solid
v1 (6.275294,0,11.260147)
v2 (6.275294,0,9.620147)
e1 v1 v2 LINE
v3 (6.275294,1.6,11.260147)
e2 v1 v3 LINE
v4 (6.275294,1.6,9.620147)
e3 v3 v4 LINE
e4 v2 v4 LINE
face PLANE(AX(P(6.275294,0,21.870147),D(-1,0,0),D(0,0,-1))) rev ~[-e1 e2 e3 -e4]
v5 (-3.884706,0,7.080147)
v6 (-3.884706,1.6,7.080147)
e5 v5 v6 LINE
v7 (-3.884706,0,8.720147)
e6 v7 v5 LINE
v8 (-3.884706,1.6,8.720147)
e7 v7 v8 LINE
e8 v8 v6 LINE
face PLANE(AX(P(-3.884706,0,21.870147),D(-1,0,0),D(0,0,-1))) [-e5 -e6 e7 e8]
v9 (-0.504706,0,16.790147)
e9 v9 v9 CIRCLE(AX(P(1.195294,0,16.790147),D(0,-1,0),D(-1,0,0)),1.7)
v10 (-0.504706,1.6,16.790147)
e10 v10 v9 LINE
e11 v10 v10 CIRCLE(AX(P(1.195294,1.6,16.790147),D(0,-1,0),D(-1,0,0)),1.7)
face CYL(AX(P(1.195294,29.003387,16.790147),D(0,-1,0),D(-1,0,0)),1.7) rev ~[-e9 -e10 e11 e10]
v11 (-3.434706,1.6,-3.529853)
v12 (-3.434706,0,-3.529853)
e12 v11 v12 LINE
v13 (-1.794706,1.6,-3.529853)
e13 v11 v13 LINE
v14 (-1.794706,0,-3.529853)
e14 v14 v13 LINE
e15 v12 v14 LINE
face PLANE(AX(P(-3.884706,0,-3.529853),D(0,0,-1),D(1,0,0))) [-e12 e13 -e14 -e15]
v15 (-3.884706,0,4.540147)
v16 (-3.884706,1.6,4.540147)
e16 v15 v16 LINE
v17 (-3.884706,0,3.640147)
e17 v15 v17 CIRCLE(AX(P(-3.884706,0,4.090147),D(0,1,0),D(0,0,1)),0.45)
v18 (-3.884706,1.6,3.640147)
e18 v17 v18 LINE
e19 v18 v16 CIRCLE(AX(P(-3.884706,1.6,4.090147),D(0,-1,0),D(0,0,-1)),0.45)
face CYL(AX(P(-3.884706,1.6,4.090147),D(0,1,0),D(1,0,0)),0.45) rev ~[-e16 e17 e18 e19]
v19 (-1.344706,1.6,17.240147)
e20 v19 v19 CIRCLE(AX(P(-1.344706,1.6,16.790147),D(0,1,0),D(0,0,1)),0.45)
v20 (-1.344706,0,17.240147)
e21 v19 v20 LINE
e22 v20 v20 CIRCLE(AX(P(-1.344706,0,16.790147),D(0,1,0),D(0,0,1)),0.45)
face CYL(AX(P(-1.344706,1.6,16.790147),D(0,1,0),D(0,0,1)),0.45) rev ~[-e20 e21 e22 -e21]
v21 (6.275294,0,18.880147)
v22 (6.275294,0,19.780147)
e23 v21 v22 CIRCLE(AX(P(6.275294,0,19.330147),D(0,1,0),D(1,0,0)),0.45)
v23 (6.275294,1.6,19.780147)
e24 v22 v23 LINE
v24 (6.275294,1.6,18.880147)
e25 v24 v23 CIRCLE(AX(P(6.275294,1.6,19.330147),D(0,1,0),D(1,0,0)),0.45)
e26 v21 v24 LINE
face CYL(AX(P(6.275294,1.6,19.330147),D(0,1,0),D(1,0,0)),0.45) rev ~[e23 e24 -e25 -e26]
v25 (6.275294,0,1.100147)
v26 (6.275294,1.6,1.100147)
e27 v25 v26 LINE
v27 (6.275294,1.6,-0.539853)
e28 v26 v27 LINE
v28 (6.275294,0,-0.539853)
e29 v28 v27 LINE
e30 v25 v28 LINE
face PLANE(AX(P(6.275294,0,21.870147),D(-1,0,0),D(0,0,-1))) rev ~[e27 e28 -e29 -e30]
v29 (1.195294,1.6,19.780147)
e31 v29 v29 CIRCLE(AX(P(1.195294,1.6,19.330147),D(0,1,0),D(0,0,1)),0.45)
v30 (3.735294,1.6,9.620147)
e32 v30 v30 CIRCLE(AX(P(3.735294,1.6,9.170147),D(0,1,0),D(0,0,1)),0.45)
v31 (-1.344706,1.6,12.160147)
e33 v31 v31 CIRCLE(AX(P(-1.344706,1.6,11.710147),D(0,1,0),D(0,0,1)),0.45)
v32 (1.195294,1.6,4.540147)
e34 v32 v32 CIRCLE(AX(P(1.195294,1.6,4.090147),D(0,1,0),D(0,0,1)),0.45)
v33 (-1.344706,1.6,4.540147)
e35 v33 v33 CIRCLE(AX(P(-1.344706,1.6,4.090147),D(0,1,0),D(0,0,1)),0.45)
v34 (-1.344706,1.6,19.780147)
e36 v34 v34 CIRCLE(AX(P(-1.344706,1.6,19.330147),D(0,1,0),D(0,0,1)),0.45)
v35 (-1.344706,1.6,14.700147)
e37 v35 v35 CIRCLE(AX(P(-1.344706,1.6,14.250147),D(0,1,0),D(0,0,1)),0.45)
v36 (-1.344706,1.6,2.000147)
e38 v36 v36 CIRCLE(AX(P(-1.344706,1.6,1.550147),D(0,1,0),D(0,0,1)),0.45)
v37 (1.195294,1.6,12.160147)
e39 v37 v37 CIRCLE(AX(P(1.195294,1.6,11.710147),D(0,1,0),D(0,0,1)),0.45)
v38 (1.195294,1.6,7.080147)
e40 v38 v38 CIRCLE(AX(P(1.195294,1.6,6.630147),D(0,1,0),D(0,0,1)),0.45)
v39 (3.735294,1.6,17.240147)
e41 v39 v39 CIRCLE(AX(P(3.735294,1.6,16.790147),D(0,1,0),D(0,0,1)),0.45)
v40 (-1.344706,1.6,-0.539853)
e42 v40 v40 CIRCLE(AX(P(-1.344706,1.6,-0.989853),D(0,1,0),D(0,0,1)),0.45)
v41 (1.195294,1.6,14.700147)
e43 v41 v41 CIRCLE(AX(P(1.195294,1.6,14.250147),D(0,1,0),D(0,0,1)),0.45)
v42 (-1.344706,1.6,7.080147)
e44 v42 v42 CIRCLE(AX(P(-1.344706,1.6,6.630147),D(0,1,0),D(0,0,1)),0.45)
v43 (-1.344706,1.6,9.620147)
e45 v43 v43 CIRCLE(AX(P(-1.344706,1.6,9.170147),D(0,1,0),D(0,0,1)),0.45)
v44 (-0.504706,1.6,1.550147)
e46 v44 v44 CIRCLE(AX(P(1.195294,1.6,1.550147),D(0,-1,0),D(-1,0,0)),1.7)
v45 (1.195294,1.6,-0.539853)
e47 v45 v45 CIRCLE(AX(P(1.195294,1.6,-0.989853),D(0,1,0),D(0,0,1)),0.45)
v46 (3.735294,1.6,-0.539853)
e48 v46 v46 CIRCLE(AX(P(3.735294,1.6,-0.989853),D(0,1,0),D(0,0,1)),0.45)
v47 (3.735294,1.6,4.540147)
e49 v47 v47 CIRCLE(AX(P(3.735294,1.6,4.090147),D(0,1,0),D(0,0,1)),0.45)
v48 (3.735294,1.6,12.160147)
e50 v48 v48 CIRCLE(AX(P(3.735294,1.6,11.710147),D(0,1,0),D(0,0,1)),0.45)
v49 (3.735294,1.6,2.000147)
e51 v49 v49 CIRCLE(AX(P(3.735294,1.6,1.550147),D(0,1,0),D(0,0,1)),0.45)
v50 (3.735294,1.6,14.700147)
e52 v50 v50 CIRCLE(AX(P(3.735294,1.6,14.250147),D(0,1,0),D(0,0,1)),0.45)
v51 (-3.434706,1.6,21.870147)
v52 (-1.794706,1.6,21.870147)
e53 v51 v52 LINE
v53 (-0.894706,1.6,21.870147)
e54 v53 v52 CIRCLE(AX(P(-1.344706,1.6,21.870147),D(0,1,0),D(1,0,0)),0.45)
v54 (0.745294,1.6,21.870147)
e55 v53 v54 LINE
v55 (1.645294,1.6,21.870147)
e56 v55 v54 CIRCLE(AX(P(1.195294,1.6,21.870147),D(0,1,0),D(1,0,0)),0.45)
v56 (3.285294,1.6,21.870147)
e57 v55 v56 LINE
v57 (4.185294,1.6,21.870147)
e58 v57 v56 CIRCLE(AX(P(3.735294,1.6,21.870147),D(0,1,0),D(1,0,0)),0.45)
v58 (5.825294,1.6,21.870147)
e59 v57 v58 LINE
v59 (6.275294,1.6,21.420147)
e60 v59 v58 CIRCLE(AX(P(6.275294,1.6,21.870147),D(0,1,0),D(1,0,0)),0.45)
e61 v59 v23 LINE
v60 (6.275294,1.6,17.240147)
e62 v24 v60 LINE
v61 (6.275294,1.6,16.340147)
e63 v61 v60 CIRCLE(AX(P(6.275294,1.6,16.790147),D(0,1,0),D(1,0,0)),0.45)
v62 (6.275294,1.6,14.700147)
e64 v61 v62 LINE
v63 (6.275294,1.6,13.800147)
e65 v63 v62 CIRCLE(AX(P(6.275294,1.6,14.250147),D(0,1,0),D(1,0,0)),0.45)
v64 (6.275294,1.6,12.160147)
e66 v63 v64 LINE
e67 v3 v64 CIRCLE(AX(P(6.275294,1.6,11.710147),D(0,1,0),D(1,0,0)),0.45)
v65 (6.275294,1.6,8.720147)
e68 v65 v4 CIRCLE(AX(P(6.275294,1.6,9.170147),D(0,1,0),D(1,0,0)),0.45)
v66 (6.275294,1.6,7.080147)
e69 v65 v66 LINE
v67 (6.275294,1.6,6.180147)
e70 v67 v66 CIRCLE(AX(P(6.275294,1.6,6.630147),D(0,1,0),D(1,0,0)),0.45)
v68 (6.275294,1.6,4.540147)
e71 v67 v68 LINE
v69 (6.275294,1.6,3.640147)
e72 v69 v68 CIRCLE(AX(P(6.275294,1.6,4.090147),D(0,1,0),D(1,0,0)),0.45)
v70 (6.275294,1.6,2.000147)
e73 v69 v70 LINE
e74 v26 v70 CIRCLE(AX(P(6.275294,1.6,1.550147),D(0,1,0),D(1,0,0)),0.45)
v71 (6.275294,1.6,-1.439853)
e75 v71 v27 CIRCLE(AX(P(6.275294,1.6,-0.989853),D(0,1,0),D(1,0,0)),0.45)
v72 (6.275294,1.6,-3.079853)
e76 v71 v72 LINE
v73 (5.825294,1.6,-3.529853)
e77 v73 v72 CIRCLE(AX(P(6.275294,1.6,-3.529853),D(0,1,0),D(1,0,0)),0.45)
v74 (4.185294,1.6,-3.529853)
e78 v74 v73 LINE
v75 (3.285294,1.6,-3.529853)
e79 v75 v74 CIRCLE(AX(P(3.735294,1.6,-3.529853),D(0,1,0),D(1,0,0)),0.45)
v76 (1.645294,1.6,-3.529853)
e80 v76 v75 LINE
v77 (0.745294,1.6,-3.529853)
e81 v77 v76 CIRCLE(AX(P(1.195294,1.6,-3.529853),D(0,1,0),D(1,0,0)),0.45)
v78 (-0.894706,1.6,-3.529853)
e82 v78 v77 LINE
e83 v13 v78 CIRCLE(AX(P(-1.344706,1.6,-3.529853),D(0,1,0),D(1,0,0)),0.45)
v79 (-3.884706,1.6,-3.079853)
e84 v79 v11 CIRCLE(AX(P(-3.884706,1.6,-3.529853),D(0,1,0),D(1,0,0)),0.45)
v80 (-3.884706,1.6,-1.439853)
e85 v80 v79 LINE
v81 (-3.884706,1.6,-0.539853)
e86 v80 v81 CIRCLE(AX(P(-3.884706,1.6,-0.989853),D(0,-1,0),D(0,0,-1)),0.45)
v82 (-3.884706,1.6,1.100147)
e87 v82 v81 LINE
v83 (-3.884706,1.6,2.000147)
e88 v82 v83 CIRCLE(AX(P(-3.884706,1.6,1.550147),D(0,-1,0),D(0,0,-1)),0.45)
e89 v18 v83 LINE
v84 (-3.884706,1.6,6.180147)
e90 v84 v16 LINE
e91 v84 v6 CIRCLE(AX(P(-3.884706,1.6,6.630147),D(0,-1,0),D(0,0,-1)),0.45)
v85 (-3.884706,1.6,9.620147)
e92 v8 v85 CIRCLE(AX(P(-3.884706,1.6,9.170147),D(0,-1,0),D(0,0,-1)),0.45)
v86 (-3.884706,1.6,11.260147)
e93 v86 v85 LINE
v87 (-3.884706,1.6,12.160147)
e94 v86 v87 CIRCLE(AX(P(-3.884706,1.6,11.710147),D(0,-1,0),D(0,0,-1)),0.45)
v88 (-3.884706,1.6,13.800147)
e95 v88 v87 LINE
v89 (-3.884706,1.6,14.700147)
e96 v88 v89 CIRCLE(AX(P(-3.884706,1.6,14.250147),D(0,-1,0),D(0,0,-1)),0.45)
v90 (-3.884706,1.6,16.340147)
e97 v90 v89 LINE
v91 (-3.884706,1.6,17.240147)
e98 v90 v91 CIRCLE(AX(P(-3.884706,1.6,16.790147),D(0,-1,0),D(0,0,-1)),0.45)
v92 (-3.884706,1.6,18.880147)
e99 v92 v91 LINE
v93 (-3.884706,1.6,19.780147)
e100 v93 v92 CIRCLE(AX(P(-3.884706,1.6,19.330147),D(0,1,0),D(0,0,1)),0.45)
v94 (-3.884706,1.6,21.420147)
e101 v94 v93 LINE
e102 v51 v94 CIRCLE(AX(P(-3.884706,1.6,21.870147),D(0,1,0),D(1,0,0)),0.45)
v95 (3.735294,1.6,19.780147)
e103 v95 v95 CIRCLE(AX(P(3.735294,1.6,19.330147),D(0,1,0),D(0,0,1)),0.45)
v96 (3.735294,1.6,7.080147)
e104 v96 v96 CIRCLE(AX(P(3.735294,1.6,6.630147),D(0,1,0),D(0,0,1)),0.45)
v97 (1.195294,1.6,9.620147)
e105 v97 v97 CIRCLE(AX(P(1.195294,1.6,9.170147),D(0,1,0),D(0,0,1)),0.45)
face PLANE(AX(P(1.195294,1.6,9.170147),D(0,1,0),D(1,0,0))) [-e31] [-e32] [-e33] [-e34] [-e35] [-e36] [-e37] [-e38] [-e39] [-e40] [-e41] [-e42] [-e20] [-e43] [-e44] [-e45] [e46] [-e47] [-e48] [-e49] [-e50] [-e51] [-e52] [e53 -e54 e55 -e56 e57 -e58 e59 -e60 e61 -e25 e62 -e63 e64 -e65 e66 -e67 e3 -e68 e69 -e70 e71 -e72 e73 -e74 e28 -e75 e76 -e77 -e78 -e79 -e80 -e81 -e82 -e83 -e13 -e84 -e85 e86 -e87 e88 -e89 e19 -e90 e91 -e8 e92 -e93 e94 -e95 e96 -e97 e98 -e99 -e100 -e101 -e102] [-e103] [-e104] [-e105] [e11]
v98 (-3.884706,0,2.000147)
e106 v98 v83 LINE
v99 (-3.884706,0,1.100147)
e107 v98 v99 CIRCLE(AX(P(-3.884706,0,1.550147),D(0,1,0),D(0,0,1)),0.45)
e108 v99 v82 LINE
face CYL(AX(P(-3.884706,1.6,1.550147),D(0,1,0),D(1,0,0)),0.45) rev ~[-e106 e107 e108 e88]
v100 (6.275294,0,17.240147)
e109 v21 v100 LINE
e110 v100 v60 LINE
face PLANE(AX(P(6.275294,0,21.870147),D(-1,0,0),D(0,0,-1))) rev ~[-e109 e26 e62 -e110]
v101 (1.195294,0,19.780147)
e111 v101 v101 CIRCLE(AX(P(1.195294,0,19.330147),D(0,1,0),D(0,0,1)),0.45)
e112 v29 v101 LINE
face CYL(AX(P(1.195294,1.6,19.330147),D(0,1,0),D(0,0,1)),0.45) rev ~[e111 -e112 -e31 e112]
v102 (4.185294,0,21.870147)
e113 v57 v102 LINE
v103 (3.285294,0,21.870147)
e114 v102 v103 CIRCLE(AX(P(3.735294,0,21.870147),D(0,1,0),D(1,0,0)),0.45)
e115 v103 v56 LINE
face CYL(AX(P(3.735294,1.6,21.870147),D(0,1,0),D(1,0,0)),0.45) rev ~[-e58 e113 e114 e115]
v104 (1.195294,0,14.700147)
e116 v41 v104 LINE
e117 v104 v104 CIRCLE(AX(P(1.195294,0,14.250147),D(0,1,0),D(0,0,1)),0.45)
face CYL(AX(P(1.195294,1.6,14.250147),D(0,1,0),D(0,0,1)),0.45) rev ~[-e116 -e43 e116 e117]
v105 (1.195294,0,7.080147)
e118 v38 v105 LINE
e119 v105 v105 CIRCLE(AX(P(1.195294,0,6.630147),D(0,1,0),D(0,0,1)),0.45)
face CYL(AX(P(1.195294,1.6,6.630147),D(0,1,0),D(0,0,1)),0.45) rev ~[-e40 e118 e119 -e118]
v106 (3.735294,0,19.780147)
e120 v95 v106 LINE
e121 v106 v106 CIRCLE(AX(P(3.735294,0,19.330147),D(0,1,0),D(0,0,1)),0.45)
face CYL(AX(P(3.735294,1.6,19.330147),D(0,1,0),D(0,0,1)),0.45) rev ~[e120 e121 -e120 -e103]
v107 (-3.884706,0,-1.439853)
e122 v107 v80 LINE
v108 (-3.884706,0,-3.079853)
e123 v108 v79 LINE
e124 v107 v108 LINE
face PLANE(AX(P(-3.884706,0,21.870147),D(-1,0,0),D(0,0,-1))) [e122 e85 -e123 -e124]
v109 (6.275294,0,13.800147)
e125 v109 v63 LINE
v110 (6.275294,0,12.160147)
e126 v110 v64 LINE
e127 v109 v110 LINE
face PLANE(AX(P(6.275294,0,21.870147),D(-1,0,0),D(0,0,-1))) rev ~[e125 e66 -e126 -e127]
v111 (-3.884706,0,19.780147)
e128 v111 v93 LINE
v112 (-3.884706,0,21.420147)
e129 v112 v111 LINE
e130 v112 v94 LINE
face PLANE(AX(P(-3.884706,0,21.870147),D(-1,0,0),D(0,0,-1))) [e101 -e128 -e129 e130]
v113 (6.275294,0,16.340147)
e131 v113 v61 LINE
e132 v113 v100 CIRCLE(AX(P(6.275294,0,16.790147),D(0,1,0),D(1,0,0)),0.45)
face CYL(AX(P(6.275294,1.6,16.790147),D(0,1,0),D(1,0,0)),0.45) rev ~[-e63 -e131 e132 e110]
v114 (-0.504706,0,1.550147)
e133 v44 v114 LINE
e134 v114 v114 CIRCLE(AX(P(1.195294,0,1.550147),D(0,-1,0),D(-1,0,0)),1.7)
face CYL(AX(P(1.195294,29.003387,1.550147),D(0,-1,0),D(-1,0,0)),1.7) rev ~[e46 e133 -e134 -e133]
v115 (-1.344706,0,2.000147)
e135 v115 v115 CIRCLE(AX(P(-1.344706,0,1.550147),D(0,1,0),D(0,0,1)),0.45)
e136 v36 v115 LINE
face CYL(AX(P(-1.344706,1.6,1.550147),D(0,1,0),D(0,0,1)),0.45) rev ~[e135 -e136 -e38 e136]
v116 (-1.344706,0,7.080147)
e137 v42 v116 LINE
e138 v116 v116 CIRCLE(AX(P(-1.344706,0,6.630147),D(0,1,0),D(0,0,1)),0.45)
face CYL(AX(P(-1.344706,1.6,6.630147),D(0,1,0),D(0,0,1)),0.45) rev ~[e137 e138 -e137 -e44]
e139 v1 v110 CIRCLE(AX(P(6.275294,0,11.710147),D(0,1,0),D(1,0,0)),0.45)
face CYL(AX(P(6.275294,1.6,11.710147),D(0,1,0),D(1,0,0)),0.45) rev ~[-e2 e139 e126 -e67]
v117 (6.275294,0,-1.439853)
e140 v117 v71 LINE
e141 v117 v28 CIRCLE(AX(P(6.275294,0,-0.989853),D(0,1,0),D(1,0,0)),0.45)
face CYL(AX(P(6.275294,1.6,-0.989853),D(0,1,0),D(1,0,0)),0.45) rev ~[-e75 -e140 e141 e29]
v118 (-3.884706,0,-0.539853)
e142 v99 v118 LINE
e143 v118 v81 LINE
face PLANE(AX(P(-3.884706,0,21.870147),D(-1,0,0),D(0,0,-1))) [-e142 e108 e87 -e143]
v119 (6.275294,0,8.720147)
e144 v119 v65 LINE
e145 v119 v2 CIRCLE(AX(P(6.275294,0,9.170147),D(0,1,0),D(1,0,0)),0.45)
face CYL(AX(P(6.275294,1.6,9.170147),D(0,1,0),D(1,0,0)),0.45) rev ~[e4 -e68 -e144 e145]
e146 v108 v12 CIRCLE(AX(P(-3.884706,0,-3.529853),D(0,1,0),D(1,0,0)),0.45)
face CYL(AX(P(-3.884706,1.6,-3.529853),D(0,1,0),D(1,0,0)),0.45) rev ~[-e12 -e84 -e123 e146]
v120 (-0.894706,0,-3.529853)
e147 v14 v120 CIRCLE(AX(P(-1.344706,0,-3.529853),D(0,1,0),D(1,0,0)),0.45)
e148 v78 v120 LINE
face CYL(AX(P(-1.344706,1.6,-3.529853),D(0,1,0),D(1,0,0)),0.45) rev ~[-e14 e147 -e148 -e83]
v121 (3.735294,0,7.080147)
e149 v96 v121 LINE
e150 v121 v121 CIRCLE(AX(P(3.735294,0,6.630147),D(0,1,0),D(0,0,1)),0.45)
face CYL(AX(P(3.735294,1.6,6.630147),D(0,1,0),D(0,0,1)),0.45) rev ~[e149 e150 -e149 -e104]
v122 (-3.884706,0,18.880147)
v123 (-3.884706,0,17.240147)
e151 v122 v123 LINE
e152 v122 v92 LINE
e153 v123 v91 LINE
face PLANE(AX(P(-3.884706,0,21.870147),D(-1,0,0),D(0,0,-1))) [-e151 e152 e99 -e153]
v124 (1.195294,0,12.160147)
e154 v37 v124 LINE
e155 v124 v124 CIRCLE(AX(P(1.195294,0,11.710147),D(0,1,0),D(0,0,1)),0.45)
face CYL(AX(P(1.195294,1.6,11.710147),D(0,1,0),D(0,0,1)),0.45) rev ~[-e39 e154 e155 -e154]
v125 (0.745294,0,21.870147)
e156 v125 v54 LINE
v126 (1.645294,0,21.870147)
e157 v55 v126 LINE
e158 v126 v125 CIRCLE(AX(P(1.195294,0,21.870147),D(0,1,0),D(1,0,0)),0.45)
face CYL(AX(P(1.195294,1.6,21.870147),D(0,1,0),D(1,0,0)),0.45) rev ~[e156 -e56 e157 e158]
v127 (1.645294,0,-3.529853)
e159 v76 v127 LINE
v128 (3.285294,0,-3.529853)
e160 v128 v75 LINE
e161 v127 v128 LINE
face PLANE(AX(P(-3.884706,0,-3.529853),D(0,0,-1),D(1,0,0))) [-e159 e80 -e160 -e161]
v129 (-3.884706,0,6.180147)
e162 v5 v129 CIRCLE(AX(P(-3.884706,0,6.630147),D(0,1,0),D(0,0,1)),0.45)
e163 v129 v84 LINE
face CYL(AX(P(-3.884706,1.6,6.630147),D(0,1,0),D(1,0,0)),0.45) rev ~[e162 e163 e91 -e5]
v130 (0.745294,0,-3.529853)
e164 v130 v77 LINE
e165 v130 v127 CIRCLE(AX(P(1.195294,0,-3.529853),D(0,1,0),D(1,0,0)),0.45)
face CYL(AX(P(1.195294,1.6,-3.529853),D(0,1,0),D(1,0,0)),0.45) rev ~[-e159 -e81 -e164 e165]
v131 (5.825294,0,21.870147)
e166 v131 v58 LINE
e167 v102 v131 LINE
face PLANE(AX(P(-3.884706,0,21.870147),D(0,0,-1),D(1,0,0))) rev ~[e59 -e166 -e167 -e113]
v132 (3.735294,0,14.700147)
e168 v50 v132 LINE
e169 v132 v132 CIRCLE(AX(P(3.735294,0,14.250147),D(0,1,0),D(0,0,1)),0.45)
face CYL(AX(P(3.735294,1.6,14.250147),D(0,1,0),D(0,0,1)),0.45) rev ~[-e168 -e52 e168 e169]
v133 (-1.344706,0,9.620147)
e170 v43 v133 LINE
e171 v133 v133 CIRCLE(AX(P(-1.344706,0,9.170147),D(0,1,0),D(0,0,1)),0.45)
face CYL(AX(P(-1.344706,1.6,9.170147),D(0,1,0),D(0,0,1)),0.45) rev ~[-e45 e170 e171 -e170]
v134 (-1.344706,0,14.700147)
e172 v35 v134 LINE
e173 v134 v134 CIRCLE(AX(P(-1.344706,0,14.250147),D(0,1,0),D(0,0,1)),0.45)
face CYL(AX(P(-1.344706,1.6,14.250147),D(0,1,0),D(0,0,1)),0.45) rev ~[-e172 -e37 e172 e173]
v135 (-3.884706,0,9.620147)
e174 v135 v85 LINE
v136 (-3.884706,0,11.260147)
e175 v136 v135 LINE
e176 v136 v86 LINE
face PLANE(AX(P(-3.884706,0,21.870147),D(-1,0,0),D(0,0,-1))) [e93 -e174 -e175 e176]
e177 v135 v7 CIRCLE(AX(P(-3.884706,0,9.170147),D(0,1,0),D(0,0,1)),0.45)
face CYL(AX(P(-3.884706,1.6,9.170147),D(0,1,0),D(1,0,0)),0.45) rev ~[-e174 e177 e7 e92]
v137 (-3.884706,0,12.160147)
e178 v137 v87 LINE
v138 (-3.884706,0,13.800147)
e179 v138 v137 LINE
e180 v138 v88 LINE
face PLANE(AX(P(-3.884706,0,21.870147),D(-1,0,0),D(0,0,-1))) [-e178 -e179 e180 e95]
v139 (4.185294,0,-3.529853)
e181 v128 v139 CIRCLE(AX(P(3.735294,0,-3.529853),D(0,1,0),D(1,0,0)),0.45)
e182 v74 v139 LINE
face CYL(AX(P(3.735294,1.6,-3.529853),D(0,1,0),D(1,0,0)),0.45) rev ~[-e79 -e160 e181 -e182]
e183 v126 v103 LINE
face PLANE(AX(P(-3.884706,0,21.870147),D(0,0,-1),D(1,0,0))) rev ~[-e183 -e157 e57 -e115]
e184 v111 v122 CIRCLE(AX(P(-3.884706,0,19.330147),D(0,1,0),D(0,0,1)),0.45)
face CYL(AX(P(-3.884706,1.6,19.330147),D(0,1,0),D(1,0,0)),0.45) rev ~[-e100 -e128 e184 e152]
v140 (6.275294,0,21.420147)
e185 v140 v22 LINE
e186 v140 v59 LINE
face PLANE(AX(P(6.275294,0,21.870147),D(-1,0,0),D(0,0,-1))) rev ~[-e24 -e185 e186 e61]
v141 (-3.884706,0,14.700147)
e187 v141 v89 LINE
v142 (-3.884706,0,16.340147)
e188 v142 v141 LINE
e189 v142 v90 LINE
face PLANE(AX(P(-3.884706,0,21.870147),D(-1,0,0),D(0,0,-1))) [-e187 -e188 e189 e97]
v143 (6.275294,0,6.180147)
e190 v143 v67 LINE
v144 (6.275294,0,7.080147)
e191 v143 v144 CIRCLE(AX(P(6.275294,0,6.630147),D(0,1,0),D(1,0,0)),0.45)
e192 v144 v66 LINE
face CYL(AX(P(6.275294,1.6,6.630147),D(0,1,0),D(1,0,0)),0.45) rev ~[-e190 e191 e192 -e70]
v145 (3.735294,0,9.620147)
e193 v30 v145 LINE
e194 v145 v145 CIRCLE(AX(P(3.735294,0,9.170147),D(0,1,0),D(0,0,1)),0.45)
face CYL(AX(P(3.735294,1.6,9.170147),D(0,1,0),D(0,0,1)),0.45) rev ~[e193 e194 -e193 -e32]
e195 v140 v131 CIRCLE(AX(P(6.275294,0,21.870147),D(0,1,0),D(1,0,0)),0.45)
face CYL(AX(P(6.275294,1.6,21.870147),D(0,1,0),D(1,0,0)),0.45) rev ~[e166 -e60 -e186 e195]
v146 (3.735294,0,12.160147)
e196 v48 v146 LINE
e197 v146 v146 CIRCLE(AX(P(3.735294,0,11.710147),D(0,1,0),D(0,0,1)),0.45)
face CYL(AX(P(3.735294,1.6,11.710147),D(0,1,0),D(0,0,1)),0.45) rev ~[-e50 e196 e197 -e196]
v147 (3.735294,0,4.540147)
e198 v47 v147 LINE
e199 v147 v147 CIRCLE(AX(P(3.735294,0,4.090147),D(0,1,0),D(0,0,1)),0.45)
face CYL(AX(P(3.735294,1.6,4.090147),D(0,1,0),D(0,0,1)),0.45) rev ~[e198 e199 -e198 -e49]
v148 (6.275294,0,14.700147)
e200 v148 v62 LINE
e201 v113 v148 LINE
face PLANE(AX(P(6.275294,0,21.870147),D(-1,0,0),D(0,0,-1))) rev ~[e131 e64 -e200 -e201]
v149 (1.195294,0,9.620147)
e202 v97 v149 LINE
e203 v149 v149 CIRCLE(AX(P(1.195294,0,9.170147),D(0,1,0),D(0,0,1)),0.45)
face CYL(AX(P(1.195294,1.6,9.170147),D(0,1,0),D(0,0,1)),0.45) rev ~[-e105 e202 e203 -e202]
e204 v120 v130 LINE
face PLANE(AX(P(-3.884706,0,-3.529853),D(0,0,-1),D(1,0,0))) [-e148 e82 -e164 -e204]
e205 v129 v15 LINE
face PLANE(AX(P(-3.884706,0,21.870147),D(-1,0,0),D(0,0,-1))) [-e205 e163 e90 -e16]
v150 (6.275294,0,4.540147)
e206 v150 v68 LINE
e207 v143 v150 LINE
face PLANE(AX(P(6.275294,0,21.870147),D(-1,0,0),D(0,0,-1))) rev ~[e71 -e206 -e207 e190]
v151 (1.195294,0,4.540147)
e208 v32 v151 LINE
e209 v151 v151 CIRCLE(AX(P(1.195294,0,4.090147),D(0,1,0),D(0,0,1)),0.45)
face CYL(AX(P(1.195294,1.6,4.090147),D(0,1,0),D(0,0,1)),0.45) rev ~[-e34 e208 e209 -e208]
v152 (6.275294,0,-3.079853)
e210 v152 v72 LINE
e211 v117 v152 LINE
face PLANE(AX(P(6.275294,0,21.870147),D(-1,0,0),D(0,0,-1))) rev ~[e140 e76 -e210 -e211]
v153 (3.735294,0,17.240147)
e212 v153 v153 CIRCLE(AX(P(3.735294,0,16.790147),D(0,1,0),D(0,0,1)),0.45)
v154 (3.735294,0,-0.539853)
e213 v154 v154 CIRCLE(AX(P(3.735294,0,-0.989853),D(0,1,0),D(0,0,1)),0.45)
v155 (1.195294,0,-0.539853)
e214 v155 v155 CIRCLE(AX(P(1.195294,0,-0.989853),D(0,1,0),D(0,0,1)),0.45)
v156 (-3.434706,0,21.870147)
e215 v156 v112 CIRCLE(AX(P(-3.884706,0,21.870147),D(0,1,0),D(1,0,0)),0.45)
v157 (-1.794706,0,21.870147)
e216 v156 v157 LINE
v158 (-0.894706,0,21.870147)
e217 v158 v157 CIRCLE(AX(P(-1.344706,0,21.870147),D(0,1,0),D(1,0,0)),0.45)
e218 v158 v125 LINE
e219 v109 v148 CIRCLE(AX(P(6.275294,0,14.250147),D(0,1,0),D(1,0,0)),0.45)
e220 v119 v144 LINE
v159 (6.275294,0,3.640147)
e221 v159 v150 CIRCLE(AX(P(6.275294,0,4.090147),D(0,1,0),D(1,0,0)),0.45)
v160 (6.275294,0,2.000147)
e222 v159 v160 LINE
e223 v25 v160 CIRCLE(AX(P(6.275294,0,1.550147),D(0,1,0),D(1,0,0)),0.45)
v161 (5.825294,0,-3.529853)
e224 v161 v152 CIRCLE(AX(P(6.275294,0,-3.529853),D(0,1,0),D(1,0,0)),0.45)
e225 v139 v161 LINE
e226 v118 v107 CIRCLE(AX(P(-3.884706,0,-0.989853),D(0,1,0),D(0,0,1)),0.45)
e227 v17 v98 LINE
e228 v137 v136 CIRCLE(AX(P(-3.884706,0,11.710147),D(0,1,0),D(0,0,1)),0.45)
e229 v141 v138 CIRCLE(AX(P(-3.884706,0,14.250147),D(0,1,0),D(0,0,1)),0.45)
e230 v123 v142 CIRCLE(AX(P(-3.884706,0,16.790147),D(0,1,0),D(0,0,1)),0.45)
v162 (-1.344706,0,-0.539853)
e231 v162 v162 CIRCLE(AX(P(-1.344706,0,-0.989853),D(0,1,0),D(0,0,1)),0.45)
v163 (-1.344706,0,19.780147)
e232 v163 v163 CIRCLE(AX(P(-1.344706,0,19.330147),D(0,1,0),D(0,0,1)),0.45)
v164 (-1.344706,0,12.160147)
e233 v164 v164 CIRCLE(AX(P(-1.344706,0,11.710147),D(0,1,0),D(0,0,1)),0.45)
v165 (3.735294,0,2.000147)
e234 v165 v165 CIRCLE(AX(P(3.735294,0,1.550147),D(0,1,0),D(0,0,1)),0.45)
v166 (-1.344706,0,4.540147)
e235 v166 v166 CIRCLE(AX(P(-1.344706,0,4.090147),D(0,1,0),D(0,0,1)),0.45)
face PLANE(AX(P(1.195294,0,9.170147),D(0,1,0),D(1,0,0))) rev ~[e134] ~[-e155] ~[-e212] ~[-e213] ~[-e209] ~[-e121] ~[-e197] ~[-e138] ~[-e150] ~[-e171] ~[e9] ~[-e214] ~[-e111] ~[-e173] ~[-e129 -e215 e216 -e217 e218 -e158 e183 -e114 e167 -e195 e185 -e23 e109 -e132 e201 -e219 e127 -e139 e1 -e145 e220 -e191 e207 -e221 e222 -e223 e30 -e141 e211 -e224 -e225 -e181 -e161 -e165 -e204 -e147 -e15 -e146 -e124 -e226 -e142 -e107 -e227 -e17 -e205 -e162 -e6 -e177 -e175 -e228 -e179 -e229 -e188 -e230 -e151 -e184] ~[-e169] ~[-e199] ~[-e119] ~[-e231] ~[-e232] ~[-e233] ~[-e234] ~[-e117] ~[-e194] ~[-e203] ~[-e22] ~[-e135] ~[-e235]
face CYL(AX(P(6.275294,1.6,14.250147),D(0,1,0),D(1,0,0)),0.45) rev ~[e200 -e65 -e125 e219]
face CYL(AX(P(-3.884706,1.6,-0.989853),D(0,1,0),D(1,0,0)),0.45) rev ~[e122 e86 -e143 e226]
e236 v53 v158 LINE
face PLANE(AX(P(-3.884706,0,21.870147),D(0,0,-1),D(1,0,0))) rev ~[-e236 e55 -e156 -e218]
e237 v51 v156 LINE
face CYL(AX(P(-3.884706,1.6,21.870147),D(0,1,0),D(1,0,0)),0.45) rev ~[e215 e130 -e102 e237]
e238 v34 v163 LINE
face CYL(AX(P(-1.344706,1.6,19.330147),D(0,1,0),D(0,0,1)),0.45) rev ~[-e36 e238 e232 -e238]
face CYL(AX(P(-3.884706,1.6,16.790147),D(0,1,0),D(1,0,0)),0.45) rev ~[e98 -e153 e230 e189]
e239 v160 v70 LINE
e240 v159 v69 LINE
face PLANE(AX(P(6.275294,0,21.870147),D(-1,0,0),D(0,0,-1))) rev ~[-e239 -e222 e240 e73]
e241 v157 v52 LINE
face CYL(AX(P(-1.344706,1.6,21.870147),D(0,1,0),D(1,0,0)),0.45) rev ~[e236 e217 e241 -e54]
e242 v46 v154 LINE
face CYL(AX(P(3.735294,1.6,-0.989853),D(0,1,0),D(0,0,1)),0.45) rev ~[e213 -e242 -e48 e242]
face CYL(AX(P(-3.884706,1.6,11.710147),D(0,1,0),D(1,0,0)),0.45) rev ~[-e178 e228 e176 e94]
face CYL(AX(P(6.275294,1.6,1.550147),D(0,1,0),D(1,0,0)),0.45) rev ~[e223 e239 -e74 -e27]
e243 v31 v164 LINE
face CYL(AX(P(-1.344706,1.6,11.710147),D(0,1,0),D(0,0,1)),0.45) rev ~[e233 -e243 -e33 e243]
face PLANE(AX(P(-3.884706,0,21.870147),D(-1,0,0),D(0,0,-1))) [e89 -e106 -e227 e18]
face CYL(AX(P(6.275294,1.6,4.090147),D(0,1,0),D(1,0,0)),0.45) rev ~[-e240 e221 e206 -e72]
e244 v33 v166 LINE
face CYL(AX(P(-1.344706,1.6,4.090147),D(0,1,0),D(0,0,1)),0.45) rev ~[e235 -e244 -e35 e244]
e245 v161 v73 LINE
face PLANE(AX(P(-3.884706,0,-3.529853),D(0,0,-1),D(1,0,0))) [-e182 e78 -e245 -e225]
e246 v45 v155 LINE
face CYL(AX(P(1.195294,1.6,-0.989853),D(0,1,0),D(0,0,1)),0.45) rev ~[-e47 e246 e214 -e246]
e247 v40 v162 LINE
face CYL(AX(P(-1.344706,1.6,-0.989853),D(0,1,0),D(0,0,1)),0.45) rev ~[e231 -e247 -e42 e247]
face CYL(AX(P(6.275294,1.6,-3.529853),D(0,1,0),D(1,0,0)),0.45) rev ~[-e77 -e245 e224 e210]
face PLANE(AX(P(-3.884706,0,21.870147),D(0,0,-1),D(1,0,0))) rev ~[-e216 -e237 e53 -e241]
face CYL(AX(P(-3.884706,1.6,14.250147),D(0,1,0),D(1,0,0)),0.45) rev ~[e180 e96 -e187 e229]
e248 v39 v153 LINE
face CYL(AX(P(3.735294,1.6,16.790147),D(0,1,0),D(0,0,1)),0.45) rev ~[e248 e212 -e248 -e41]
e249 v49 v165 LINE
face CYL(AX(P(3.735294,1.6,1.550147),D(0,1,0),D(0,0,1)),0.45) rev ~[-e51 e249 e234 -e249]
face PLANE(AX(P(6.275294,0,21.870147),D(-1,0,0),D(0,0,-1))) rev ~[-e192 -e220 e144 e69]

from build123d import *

# Parameters (mm, degrees)
ESQUISSE1_W             = 10.16
ESQUISSE1_H             = 25.4
BOSS_EXTRU_1_DEPTH      = 1.6
ESQUISSE2_R             = 0.45
ENL_V_MAT_EXTRU_1_DEPTH = 23.808828305
D_GAGEMENT_M31_D        = 3.4


with BuildPart() as part:
    # Esquisse1 → Boss.-Extru.1 (new body)
    with BuildSketch(Plane(origin=(0, 0, 0), x_dir=(1, 0, 0), z_dir=(0, 1, 0))):
        with Locations((1.195294118, -9.170147059)):
            Rectangle(ESQUISSE1_W, ESQUISSE1_H)
    extrude(amount=BOSS_EXTRU_1_DEPTH)

    # Esquisse2 → Enlèv. mat.-Extru.1 (cut, through all)
    with BuildSketch(Plane(origin=(0, 1.6, 0), x_dir=(1, 0, 0), z_dir=(0, 1, 0))):
        with Locations((-3.884705882, 3.529852941)):
            Circle(ESQUISSE2_R)
        with Locations((-1.344705882, 3.529852941)):
            Circle(ESQUISSE2_R)
        with Locations((1.195294118, 3.529852941)):
            Circle(ESQUISSE2_R)
        with Locations((3.735294118, 3.529852941)):
            Circle(ESQUISSE2_R)
        with Locations(Location((-1.344705882, 0.989852941, 0), (0, 0, 270))):
            Circle(ESQUISSE2_R)
        with Locations(Location((1.195294118, 0.989852941, 0), (0, 0, 270))):
            Circle(ESQUISSE2_R)
        with Locations(Location((3.735294118, 0.989852941, 0), (0, 0, 270))):
            Circle(ESQUISSE2_R)
        with Locations(Location((-1.344705882, -1.550147059, 0), (0, 0, 270))):
            Circle(ESQUISSE2_R)
        with Locations(Location((1.195294118, -1.550147059, 0), (0, 0, 270))):
            Circle(ESQUISSE2_R)
        with Locations(Location((3.735294118, -1.550147059, 0), (0, 0, 270))):
            Circle(ESQUISSE2_R)
        with Locations(Location((-1.344705882, -4.090147059, 0), (0, 0, 270))):
            Circle(ESQUISSE2_R)
        with Locations(Location((1.195294118, -4.090147059, 0), (0, 0, 270))):
            Circle(ESQUISSE2_R)
        with Locations(Location((3.735294118, -4.090147059, 0), (0, 0, 270))):
            Circle(ESQUISSE2_R)
        with Locations(Location((-1.344705882, -6.630147059, 0), (0, 0, 270))):
            Circle(ESQUISSE2_R)
        with Locations(Location((1.195294118, -6.630147059, 0), (0, 0, 270))):
            Circle(ESQUISSE2_R)
        with Locations(Location((3.735294118, -6.630147059, 0), (0, 0, 270))):
            Circle(ESQUISSE2_R)
        with Locations(Location((-1.344705882, -9.170147059, 0), (0, 0, 270))):
            Circle(ESQUISSE2_R)
        with Locations(Location((1.195294118, -9.170147059, 0), (0, 0, 270))):
            Circle(ESQUISSE2_R)
        with Locations(Location((3.735294118, -9.170147059, 0), (0, 0, 270))):
            Circle(ESQUISSE2_R)
        with Locations(Location((-1.344705882, -11.710147059, 0), (0, 0, 270))):
            Circle(ESQUISSE2_R)
        with Locations(Location((1.195294118, -11.710147059, 0), (0, 0, 270))):
            Circle(ESQUISSE2_R)
        with Locations(Location((3.735294118, -11.710147059, 0), (0, 0, 270))):
            Circle(ESQUISSE2_R)
        with Locations(Location((-1.344705882, -14.250147059, 0), (0, 0, 270))):
            Circle(ESQUISSE2_R)
        with Locations(Location((1.195294118, -14.250147059, 0), (0, 0, 270))):
            Circle(ESQUISSE2_R)
        with Locations(Location((3.735294118, -14.250147059, 0), (0, 0, 270))):
            Circle(ESQUISSE2_R)
        with Locations((-3.884705882, 0.989852941)):
            Circle(ESQUISSE2_R)
        with Locations((-3.884705882, -1.550147059)):
            Circle(ESQUISSE2_R)
        with Locations((-3.884705882, -4.090147059)):
            Circle(ESQUISSE2_R)
        with Locations((-3.884705882, -6.630147059)):
            Circle(ESQUISSE2_R)
        with Locations((-3.884705882, -9.170147059)):
            Circle(ESQUISSE2_R)
        with Locations((-3.884705882, -11.710147059)):
            Circle(ESQUISSE2_R)
        with Locations((-3.884705882, -14.250147059)):
            Circle(ESQUISSE2_R)
        with Locations((6.275294118, 3.529852941)):
            Circle(ESQUISSE2_R)
        with Locations((6.275294118, 0.989852941)):
            Circle(ESQUISSE2_R)
        with Locations((6.275294118, -1.550147059)):
            Circle(ESQUISSE2_R)
        with Locations((6.275294118, -4.090147059)):
            Circle(ESQUISSE2_R)
        with Locations((6.275294118, -6.630147059)):
            Circle(ESQUISSE2_R)
        with Locations((6.275294118, -9.170147059)):
            Circle(ESQUISSE2_R)
        with Locations((6.275294118, -11.710147059)):
            Circle(ESQUISSE2_R)
        with Locations((6.275294118, -14.250147059)):
            Circle(ESQUISSE2_R)
        with Locations((-3.884705882, -16.790147059)):
            Circle(ESQUISSE2_R)
        with Locations(Location((-1.344705882, -16.790147059, 0), (0, 0, 270))):
            Circle(ESQUISSE2_R)
        with Locations(Location((1.195294118, -16.790147059, 0), (0, 0, 270))):
            Circle(ESQUISSE2_R)
        with Locations(Location((3.735294118, -16.790147059, 0), (0, 0, 270))):
            Circle(ESQUISSE2_R)
        with Locations((6.275294118, -16.790147059)):
            Circle(ESQUISSE2_R)
        with Locations((-3.884705882, -19.330147059)):
            Circle(ESQUISSE2_R)
        with Locations(Location((-1.344705882, -19.330147059, 0), (0, 0, 270))):
            Circle(ESQUISSE2_R)
        with Locations(Location((1.195294118, -19.330147059, 0), (0, 0, 270))):
            Circle(ESQUISSE2_R)
        with Locations(Location((3.735294118, -19.330147059, 0), (0, 0, 270))):
            Circle(ESQUISSE2_R)
        with Locations((6.275294118, -19.330147059)):
            Circle(ESQUISSE2_R)
        with Locations((-3.884705882, -21.870147059)):
            Circle(ESQUISSE2_R)
        with Locations((-1.344705882, -21.870147059)):
            Circle(ESQUISSE2_R)
        with Locations((1.195294118, -21.870147059)):
            Circle(ESQUISSE2_R)
        with Locations((3.735294118, -21.870147059)):
            Circle(ESQUISSE2_R)
        with Locations((6.275294118, -21.870147059)):
            Circle(ESQUISSE2_R)
    extrude(amount=-ENL_V_MAT_EXTRU_1_DEPTH, mode=Mode.SUBTRACT)

    # Dégagement M31 (through all)
    with Locations(Plane(origin=(0, 1.6, 0), x_dir=(1, 0, 0), z_dir=(0, 1, 0))):
        with Locations((1.195294118, -16.790147059), (1.195294118, -1.550147059)):
            Hole(D_GAGEMENT_M31_D / 2)


solid = part.part
